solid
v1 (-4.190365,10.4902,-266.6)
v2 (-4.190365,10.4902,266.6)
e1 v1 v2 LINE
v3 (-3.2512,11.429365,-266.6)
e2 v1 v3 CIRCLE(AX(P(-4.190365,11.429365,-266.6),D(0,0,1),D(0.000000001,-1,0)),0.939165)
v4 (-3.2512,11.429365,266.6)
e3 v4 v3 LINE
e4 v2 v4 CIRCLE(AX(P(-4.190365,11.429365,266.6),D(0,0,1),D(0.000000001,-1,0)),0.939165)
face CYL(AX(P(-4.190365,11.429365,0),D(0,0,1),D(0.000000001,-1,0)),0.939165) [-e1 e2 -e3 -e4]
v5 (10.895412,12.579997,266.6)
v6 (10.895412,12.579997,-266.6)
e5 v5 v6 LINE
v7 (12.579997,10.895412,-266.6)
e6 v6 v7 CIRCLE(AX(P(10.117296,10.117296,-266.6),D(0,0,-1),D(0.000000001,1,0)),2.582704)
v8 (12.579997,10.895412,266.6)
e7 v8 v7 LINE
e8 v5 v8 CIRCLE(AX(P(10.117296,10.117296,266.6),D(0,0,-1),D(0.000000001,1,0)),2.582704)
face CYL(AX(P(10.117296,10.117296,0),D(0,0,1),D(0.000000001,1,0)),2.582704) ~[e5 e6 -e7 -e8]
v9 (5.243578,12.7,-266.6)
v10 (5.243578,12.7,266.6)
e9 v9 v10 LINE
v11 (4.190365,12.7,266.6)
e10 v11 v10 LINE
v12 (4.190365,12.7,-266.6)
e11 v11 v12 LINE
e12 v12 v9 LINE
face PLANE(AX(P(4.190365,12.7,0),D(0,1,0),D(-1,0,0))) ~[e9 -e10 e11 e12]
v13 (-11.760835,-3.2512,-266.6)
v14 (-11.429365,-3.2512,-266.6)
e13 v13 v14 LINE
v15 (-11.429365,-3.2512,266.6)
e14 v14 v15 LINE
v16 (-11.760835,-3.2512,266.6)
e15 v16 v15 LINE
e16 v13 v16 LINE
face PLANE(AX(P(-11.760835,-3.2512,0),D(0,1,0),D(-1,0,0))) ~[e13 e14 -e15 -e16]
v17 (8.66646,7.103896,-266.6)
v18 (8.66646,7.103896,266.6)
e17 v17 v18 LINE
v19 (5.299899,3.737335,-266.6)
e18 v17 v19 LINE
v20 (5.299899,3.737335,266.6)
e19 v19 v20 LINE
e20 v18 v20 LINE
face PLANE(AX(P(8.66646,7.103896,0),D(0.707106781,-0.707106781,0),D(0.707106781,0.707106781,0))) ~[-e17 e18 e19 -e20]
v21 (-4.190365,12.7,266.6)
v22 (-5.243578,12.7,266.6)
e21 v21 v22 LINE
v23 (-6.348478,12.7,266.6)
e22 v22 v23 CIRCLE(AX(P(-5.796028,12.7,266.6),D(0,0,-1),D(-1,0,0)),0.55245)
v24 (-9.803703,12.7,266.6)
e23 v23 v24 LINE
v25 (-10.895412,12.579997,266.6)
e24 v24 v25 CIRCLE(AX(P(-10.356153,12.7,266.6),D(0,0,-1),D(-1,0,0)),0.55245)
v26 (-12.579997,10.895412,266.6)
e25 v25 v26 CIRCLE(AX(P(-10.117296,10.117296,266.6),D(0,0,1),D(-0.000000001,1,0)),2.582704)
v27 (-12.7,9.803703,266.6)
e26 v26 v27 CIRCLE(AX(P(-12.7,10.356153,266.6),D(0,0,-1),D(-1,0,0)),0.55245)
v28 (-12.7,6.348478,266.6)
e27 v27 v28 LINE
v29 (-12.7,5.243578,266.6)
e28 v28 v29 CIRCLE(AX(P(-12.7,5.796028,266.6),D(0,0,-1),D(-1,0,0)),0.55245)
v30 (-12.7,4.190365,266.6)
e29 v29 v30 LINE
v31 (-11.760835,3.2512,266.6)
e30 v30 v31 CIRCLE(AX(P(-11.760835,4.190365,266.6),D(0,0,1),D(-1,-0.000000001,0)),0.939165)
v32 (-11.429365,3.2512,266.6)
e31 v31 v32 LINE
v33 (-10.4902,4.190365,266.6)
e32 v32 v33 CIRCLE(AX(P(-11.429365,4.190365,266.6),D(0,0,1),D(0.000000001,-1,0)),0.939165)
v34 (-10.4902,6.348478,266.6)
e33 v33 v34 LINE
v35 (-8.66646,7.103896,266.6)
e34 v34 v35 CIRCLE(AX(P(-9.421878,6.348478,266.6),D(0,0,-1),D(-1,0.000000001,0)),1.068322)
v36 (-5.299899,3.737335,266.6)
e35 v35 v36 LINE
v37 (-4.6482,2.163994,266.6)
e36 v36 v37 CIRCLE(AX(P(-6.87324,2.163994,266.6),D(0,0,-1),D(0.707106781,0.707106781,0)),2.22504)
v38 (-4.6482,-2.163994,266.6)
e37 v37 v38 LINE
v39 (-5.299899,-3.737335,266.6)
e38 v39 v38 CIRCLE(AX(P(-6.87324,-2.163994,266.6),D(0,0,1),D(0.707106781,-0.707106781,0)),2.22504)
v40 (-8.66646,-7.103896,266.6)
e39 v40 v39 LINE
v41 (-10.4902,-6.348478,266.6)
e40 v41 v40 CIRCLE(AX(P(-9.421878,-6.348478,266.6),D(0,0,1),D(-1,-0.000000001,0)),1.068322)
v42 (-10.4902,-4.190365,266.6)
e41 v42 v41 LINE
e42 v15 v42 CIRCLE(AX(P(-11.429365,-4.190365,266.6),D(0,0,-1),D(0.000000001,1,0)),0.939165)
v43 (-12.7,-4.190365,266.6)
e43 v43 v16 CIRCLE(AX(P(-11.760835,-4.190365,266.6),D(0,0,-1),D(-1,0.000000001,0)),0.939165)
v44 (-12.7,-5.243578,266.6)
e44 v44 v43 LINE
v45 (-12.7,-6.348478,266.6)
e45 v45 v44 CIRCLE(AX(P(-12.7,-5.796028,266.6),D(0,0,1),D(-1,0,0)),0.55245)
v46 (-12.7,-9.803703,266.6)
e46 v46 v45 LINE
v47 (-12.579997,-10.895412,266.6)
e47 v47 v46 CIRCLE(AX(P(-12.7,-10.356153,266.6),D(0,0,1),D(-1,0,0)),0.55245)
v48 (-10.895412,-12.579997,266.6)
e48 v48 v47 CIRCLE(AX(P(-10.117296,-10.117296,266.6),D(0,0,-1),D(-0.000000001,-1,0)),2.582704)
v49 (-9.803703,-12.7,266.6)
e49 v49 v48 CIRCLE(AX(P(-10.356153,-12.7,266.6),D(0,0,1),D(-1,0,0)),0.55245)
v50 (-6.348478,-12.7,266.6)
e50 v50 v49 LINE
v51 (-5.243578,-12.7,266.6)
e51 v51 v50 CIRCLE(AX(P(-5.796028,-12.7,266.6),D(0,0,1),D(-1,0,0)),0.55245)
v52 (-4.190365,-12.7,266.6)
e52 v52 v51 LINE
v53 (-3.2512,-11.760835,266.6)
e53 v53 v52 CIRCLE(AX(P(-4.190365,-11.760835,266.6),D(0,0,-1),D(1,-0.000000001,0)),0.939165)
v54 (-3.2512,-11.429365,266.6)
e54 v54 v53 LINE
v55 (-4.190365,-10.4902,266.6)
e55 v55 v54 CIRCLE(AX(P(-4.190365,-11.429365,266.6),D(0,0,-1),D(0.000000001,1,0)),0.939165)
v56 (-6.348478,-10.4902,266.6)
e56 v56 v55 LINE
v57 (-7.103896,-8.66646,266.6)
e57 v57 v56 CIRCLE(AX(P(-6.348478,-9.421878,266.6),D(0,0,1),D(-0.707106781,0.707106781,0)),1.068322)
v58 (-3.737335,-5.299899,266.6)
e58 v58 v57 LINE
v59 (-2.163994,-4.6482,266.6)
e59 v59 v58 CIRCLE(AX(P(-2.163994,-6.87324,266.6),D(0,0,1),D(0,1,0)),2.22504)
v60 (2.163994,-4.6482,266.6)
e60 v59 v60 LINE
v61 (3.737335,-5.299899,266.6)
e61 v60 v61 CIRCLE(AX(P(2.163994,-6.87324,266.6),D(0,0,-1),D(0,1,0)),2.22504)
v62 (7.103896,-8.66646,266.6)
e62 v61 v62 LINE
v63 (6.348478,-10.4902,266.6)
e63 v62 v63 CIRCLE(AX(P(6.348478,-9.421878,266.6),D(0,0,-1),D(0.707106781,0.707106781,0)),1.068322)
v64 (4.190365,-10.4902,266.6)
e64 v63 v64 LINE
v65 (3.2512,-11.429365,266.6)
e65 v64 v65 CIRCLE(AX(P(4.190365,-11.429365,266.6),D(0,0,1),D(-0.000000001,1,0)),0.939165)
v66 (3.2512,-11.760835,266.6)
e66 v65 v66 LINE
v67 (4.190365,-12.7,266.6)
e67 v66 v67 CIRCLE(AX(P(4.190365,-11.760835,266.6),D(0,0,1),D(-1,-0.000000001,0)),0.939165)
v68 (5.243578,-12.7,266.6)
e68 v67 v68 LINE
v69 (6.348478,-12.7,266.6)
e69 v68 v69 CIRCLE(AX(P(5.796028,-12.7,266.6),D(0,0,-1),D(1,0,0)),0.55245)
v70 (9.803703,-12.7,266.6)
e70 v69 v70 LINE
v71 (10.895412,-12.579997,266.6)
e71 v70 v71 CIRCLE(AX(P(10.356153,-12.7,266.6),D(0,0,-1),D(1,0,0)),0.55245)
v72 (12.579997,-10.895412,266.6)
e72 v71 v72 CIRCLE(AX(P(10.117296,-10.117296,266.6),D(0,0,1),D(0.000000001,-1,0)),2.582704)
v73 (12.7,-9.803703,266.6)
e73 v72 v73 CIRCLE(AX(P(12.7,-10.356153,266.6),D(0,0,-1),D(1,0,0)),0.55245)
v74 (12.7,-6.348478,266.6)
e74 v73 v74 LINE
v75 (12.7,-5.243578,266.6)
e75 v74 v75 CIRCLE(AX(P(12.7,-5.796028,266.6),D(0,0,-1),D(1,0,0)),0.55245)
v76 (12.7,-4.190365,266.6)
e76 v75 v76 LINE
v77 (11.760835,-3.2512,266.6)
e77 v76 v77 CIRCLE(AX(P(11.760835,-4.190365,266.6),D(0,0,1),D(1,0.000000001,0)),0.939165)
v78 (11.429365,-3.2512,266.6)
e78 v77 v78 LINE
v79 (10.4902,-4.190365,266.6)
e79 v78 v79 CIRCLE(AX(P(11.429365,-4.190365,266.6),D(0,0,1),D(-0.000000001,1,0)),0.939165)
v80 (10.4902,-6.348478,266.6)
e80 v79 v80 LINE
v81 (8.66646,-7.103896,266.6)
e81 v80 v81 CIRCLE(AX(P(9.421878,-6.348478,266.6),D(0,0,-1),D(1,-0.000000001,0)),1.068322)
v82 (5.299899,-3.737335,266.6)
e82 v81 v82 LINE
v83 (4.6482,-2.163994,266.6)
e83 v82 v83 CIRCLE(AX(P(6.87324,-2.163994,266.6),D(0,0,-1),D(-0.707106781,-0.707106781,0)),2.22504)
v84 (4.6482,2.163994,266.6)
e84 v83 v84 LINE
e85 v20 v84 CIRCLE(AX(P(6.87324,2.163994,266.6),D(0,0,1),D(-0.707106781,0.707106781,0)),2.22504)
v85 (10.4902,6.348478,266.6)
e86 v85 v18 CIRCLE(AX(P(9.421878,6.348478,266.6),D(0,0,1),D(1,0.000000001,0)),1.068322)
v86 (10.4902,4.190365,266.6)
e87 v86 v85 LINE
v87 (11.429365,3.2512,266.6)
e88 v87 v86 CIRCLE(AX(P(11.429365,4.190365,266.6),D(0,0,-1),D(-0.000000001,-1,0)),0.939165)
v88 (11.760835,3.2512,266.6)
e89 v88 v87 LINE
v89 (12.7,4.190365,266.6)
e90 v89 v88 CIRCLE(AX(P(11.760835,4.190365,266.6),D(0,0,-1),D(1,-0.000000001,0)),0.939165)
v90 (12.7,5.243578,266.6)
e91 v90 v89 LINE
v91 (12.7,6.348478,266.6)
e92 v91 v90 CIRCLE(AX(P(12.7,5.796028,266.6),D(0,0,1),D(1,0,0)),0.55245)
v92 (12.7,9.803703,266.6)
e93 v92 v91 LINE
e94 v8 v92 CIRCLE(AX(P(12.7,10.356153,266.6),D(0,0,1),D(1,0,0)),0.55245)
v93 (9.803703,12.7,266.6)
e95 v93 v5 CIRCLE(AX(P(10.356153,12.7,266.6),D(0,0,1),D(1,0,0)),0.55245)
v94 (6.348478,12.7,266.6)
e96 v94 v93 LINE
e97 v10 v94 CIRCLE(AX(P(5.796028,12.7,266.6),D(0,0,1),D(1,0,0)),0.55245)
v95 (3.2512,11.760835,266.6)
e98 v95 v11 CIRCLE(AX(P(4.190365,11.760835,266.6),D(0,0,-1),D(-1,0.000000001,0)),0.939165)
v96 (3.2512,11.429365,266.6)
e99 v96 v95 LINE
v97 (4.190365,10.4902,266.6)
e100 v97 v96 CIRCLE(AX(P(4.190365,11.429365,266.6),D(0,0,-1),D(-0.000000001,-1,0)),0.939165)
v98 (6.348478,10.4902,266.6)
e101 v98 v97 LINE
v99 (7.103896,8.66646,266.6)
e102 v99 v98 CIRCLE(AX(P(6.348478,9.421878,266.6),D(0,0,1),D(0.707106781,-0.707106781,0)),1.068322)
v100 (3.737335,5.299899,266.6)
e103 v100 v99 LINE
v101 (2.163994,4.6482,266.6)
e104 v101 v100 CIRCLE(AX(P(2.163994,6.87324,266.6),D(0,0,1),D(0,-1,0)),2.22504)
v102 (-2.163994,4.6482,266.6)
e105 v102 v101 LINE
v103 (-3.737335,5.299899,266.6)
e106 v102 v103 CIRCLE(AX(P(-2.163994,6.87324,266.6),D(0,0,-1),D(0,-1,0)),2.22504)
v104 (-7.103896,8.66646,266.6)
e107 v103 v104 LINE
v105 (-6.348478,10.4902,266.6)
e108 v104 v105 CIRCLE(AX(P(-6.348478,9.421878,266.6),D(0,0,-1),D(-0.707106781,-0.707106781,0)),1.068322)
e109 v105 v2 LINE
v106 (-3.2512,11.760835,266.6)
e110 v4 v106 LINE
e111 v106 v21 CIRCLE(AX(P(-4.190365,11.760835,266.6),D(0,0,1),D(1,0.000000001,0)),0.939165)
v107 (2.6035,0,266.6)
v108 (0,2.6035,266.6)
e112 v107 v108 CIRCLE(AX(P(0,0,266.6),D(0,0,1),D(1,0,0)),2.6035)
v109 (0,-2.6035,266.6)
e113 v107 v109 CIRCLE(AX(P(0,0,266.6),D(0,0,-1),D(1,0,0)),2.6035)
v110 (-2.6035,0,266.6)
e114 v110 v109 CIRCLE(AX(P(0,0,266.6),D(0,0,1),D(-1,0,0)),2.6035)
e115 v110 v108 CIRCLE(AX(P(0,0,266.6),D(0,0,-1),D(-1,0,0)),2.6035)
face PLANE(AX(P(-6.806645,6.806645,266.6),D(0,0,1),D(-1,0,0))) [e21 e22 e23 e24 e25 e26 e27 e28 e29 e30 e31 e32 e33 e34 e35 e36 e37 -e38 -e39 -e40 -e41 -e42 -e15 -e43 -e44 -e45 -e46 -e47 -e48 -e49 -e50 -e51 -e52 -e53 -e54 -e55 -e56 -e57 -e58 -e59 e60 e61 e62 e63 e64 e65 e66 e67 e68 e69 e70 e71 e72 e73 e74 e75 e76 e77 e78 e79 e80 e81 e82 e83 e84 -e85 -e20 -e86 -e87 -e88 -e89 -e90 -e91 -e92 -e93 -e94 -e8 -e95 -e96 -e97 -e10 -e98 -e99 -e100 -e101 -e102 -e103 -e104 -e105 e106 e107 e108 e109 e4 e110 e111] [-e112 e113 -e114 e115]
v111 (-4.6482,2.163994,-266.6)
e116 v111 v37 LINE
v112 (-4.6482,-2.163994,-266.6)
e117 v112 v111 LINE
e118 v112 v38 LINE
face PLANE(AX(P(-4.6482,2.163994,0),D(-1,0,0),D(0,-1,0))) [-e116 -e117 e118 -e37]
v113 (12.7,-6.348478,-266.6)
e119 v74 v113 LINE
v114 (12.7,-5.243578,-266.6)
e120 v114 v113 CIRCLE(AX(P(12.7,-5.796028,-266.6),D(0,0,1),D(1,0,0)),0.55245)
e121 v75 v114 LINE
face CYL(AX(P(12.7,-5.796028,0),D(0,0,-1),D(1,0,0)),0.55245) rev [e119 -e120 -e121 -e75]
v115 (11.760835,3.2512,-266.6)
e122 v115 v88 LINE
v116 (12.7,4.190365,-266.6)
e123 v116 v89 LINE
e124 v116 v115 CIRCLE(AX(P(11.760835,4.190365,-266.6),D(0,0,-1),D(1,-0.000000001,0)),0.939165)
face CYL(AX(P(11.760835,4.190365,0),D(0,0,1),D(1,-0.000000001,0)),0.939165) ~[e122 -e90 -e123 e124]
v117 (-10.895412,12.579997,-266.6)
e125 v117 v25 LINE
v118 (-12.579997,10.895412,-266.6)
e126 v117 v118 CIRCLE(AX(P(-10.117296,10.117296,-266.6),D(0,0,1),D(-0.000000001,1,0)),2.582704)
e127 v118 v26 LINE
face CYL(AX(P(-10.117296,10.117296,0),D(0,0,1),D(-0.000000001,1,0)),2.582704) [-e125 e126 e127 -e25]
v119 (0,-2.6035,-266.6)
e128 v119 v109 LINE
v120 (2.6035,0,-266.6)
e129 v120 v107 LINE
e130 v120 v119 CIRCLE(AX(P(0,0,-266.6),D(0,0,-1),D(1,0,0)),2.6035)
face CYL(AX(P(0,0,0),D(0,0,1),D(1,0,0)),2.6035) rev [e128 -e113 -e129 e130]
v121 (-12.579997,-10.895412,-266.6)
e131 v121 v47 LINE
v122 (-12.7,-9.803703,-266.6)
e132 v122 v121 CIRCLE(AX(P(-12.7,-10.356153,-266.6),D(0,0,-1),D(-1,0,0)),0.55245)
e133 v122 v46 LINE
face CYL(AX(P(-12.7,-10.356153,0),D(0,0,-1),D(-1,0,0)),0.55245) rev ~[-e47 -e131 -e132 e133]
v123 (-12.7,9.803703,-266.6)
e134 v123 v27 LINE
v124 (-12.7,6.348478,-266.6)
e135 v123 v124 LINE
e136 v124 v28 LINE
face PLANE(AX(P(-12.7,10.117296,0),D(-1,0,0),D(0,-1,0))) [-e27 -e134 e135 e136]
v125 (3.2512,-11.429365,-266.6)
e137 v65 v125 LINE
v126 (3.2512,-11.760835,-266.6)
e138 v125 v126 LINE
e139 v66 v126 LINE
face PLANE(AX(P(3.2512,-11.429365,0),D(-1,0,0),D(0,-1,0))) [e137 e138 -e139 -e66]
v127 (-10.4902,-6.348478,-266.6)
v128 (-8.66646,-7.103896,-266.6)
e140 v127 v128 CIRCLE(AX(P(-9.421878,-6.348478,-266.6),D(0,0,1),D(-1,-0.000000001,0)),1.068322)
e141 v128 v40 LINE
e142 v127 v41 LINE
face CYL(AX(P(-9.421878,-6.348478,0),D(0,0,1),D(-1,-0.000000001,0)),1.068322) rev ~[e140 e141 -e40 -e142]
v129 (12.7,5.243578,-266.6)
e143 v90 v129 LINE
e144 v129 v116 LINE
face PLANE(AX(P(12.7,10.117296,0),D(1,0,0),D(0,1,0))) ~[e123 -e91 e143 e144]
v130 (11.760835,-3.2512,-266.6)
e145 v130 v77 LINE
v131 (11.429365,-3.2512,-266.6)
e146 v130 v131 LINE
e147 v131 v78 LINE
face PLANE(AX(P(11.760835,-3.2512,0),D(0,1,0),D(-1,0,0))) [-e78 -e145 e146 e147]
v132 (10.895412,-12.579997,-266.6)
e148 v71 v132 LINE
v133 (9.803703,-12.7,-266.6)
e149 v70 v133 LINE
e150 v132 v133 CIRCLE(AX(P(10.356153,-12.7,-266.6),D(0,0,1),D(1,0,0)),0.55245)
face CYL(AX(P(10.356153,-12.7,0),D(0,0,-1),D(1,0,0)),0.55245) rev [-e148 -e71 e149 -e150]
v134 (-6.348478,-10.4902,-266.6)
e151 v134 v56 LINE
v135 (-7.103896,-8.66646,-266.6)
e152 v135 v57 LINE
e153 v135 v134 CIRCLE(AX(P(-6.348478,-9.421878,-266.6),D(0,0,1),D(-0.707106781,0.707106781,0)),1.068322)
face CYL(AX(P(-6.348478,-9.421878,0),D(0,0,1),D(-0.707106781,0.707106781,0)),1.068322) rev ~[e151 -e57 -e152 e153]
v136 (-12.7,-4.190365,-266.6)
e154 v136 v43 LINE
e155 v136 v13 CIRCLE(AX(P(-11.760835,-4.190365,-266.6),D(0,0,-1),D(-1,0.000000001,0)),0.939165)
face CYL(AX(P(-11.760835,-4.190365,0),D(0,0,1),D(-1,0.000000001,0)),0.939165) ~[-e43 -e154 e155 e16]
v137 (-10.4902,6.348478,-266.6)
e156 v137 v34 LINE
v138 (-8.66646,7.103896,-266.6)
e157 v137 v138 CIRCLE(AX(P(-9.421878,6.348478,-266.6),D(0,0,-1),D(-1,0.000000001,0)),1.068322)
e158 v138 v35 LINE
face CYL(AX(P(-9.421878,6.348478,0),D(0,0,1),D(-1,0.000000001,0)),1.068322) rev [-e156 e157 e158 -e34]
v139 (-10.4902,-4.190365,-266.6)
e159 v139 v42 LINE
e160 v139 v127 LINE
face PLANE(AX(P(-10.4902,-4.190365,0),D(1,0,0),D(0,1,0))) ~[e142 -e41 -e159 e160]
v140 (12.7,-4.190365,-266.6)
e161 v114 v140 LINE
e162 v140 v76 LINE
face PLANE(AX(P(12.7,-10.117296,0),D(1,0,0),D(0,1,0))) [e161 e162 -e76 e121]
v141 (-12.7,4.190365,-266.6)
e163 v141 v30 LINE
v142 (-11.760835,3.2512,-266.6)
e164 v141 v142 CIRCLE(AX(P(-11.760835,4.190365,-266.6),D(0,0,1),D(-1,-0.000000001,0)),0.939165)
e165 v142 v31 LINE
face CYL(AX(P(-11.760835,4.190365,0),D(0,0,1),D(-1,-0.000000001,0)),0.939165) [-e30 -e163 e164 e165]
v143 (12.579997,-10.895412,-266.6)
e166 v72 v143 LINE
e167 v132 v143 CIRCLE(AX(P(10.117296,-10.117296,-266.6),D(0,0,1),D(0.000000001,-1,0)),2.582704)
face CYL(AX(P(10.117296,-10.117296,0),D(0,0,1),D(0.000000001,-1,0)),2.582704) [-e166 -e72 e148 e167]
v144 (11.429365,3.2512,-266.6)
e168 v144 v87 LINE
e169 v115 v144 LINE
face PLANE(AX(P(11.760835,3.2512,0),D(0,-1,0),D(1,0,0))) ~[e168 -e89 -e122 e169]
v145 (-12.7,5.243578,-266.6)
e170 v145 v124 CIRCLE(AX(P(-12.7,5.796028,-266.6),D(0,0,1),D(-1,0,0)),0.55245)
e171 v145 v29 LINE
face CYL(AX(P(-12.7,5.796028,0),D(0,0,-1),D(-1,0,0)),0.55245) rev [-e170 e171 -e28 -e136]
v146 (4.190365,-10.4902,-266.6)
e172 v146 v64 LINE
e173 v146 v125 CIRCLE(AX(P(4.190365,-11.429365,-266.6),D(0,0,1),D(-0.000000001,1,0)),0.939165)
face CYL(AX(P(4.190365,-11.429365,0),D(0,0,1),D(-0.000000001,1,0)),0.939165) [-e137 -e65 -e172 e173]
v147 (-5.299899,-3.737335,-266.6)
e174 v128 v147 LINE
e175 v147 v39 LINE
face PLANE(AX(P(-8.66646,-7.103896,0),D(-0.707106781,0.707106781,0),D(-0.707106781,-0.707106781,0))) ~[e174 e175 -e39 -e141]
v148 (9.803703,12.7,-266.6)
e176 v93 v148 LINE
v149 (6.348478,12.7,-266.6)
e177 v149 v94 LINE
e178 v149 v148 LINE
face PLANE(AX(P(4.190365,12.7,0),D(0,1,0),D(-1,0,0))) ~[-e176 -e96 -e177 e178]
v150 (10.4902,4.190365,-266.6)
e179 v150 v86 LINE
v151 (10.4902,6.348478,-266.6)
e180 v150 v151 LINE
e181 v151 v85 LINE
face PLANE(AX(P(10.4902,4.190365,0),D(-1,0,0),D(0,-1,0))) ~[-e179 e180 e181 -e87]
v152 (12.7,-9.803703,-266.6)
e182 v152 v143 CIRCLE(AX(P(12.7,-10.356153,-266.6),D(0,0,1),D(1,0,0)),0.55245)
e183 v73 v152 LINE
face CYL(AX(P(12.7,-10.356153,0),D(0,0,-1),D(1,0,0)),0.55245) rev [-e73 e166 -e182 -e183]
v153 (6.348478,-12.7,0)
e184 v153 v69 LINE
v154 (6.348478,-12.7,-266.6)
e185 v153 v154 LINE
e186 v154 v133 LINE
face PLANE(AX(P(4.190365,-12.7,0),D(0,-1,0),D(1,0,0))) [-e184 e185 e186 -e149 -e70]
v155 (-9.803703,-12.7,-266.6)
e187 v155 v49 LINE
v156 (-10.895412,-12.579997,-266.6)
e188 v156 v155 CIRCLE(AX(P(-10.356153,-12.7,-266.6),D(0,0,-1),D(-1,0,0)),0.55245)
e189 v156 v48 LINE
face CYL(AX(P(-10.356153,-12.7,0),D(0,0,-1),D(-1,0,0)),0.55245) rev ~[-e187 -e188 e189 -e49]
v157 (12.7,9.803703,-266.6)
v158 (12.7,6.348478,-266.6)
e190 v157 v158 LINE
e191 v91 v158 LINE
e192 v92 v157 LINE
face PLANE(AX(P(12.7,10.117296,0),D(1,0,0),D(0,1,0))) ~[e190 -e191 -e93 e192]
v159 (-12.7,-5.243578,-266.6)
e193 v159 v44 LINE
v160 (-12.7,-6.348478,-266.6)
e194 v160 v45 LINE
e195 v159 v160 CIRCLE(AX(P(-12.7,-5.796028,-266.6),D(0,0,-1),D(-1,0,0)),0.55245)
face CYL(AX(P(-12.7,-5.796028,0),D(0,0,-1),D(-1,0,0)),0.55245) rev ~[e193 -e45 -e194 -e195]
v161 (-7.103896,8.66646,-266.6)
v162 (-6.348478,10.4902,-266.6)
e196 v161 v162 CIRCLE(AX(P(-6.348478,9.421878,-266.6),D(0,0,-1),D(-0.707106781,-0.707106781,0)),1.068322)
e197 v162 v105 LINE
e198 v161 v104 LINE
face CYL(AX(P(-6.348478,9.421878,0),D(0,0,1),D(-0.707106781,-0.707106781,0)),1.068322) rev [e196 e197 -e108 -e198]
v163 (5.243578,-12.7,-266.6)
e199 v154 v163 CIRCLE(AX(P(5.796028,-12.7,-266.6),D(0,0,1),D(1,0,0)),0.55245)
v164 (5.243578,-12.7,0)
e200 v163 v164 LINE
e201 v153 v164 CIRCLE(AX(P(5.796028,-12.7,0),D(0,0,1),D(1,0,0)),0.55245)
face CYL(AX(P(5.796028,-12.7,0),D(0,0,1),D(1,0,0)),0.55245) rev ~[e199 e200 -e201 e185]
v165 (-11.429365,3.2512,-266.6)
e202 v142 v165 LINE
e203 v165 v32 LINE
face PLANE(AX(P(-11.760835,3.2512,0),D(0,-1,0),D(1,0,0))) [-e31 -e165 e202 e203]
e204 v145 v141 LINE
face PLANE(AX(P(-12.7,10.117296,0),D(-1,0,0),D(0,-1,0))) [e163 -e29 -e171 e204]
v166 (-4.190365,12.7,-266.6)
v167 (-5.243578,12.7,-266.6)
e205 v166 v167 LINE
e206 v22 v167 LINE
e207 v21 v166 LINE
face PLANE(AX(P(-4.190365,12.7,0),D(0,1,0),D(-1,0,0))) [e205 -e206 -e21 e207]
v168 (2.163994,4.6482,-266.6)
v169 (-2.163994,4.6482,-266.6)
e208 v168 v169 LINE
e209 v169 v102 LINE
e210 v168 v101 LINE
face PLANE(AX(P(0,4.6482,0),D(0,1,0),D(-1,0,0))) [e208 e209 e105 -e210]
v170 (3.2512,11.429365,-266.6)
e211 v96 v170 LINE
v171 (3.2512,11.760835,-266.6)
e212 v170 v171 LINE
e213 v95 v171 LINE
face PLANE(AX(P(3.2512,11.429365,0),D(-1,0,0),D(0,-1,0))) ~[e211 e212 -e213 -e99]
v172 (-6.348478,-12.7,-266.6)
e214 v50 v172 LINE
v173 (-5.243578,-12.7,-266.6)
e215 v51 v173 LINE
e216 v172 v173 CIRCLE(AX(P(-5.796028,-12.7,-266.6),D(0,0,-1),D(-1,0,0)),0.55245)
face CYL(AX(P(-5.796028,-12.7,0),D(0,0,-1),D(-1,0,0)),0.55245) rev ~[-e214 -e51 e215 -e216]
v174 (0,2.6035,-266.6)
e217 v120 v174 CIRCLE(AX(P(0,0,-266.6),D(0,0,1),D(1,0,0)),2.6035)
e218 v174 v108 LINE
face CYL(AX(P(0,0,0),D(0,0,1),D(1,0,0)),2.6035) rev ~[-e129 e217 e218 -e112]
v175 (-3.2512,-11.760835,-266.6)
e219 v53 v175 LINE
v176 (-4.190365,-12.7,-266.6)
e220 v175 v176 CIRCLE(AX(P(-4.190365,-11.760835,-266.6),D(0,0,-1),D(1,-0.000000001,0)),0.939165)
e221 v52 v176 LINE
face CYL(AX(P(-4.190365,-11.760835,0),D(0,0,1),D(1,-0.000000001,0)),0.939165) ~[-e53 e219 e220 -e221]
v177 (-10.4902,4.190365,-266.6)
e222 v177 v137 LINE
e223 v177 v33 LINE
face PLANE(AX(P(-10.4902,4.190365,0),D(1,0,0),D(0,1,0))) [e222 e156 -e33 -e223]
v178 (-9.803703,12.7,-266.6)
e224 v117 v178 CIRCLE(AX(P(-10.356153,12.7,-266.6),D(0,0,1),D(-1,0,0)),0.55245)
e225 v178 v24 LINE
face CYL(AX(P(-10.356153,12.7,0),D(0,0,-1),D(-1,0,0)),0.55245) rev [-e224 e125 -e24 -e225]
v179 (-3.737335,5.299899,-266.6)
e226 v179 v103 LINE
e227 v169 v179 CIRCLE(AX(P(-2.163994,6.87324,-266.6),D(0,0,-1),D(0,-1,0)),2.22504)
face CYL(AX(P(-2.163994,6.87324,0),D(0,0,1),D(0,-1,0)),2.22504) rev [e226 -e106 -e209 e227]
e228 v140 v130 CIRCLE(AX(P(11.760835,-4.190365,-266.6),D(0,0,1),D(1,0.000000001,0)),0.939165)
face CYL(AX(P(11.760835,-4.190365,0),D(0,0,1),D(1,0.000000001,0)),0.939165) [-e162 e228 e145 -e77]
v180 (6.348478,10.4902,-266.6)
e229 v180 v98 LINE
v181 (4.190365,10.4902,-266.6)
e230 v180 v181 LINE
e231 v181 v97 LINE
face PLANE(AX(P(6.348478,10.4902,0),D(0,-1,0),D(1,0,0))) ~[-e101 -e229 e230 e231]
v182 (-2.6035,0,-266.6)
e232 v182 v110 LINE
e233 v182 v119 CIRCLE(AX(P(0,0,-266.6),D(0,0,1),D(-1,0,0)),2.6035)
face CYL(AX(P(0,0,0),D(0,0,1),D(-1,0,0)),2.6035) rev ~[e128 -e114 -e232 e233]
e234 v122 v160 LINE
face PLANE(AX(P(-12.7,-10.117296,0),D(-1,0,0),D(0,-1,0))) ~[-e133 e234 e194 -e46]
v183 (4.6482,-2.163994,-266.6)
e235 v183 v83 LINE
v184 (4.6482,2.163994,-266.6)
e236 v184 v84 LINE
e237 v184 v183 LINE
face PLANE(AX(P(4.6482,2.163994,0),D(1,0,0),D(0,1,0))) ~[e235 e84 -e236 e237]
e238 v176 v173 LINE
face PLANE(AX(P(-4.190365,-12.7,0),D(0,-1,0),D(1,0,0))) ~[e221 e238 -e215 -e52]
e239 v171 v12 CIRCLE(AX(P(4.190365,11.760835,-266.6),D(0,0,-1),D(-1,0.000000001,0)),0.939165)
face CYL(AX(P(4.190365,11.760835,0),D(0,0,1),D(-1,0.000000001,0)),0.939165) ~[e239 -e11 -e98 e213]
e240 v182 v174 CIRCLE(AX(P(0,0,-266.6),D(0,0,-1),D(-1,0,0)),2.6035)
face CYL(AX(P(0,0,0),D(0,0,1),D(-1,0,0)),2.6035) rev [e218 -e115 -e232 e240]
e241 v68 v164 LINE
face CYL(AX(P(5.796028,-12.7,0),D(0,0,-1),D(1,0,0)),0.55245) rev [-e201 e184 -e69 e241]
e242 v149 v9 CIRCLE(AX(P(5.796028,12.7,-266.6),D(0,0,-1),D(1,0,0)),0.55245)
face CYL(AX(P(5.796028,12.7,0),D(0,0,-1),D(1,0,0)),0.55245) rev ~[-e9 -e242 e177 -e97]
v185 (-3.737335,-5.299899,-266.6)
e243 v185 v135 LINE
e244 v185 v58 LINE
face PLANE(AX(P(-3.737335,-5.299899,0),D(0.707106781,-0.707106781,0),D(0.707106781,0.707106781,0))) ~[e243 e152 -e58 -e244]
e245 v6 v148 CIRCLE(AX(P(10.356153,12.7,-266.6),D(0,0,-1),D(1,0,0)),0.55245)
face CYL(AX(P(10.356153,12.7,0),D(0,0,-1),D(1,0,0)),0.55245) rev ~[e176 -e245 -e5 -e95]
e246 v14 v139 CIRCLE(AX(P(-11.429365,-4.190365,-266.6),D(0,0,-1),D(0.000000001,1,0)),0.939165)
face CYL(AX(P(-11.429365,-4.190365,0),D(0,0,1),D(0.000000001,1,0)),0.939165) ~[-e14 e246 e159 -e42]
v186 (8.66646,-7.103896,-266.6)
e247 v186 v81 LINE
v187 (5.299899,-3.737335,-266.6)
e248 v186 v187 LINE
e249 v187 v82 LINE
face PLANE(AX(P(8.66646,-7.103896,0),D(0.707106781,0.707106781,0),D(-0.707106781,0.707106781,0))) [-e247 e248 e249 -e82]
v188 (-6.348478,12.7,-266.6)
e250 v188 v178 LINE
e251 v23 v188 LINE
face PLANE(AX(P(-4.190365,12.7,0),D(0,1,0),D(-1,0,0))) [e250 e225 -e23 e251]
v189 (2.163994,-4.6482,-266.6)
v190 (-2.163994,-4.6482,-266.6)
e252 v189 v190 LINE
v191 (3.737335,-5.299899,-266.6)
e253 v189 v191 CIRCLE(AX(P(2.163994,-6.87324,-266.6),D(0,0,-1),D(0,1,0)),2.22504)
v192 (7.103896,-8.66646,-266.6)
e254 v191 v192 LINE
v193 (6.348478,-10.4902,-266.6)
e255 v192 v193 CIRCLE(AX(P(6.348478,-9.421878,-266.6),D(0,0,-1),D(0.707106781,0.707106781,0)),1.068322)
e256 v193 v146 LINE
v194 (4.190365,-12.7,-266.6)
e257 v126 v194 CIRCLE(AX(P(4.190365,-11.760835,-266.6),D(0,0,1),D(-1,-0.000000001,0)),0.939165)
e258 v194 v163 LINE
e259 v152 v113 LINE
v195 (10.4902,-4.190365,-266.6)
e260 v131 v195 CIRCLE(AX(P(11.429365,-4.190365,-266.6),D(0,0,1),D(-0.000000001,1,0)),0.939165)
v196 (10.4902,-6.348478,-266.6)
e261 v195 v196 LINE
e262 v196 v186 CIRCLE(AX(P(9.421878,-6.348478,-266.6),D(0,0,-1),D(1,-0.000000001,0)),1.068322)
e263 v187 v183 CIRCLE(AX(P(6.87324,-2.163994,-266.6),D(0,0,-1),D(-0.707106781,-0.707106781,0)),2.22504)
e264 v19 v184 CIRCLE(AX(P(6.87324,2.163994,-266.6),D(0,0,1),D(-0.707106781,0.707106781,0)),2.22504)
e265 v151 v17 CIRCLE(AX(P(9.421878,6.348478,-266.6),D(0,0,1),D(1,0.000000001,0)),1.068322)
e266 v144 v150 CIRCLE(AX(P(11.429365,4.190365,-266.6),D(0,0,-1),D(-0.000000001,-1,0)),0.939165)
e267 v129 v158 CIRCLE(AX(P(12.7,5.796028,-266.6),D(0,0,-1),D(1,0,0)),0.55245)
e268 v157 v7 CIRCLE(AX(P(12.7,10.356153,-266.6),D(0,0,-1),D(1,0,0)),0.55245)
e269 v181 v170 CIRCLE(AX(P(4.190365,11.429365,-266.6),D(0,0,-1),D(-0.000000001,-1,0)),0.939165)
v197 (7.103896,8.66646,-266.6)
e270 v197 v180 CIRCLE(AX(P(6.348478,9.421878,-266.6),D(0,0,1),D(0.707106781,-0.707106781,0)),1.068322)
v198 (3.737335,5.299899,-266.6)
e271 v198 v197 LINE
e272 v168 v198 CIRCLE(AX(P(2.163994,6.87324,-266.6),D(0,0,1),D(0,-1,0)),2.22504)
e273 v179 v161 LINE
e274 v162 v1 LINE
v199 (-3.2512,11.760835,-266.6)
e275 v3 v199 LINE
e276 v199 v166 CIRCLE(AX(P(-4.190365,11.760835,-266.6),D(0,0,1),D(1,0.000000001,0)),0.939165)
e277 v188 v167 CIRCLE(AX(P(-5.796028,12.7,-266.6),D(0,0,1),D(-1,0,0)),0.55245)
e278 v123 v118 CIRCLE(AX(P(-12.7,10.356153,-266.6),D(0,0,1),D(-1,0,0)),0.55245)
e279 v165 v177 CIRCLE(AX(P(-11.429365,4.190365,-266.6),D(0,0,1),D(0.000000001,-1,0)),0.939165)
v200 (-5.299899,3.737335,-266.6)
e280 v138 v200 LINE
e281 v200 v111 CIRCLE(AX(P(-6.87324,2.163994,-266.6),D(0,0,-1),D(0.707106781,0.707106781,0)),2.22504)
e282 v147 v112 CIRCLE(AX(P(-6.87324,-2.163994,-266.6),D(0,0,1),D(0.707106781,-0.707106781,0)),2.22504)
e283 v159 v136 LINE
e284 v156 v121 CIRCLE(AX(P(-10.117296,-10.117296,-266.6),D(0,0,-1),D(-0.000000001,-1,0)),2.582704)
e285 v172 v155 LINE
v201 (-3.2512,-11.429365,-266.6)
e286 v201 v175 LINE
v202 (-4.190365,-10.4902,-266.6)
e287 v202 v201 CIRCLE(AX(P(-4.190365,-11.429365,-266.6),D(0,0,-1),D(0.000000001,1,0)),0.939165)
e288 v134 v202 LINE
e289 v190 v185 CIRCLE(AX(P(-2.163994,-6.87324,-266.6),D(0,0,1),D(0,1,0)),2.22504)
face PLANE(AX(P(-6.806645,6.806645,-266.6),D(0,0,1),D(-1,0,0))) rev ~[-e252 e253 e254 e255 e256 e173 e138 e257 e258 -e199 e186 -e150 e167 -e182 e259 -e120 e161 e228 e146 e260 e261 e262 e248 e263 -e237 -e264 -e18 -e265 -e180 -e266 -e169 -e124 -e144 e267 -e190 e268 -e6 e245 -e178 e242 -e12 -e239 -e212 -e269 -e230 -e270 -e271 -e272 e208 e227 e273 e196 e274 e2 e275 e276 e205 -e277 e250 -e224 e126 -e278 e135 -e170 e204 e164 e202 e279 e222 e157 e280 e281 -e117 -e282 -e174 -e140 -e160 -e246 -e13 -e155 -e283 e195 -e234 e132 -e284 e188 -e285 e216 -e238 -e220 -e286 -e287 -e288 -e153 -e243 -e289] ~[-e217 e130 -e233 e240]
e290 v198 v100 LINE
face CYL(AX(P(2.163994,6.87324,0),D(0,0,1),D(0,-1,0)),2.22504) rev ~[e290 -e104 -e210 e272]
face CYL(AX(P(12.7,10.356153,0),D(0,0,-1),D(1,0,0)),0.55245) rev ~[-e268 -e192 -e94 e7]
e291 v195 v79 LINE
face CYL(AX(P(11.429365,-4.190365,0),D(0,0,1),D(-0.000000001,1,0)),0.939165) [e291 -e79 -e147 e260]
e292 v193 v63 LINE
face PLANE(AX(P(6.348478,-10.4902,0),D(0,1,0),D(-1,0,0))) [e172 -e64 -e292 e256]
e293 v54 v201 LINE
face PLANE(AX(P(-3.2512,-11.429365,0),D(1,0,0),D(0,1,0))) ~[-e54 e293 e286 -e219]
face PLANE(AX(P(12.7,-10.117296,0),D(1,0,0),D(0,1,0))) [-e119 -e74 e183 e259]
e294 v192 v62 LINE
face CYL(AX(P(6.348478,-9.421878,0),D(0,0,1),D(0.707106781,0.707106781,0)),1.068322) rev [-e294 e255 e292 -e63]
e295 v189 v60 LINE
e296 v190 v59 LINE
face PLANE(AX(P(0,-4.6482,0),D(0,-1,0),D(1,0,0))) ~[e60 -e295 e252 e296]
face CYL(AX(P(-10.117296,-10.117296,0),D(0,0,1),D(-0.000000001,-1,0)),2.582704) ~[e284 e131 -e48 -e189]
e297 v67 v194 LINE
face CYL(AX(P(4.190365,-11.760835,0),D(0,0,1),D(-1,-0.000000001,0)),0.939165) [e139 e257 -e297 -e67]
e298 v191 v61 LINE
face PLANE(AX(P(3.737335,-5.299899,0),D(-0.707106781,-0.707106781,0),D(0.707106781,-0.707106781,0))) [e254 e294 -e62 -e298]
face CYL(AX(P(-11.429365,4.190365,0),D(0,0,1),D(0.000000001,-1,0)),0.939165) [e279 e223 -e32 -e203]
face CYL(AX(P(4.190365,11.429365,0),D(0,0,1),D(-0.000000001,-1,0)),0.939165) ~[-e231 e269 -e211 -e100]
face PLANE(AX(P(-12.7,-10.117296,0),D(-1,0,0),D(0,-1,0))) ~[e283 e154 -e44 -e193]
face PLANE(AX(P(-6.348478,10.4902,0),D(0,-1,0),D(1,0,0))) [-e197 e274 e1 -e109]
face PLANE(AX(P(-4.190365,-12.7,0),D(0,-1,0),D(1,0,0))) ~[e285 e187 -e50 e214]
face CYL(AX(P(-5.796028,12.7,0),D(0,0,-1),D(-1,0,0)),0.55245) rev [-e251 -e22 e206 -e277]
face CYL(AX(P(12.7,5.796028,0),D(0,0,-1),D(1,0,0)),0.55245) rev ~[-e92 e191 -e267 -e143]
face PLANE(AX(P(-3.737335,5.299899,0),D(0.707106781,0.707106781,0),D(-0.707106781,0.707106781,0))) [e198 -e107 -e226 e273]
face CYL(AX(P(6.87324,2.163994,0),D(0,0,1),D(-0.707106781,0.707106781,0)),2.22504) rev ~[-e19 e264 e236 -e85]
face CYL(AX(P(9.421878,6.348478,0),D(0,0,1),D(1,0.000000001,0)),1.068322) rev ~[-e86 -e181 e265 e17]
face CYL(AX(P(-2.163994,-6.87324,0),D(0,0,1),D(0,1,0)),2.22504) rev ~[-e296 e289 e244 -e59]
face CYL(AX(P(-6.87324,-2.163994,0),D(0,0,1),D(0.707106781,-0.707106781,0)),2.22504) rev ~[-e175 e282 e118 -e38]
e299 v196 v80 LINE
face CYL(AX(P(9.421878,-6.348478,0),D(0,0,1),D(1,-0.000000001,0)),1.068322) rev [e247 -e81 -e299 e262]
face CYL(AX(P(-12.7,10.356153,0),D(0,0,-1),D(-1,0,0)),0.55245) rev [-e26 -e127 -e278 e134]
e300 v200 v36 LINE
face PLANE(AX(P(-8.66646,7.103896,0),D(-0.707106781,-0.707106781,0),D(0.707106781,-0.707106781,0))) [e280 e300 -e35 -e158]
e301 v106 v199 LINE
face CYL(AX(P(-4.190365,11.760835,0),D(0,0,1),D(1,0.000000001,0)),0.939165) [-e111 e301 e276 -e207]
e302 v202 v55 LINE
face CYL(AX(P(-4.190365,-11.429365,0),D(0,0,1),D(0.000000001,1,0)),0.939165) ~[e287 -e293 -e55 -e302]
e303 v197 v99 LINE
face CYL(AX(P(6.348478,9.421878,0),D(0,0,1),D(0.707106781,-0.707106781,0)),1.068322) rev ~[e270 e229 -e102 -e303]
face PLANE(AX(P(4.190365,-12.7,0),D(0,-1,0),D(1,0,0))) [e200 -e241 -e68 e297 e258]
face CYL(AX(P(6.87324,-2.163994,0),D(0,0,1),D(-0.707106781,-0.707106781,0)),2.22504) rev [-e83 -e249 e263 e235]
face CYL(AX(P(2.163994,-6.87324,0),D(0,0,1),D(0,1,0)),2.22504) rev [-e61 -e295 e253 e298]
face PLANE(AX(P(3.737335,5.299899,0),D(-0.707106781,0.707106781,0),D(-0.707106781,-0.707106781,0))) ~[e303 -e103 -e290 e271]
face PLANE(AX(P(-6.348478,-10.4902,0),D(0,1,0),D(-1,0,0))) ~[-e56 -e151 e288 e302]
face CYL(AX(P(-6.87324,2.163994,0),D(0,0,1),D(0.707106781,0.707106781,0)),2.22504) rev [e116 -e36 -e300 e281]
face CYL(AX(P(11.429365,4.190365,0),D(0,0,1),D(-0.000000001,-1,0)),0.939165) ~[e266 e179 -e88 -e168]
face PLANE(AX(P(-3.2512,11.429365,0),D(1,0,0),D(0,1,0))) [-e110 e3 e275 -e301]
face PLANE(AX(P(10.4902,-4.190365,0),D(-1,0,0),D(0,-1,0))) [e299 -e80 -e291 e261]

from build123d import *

# Parameters (mm, degrees)
BOSS_EXTRUDE1_DEPTH     = 266.6
SKETCH5_R               = 0.55245
CUT_EXTRUDE1_DEPTH      = 267.6
CUT_EXTRUDE1_DEPTH_BACK = 267.6


with BuildPart() as part:
    # Sketch4 → Boss-Extrude1 (new body, symmetric)
    with BuildSketch(Plane.XY):
        with BuildLine():
            Line((4.190365, -12.7), (10.11729625, -12.7))
            ThreePointArc((10.11729625, -12.7), (11.943543585, -11.943543585), (12.7, -10.11729625))
            Line((12.7, -10.11729625), (12.7, -4.190365))
            ThreePointArc((12.7, -4.190365), (12.42492494, -3.52627506), (11.760835, -3.2512))
            Line((11.760835, -3.2512), (11.429365, -3.2512))
            ThreePointArc((11.429365, -3.2512), (10.76527506, -3.52627506), (10.4902, -4.190365))
            Line((10.4902, -4.190365), (10.4902, -6.348478019))
            ThreePointArc((10.4902, -6.348478019), (9.830707141, -7.335478831), (8.666460301, -7.103895736))
            Line((8.666460301, -7.103895736), (5.299899128, -3.737334563))
            ThreePointArc((5.299899128, -3.737334563), (4.817571085, -3.015479634), (4.6482, -2.16399369))
            Line((4.6482, -2.16399369), (4.6482, 0))
            Line((4.6482, 0), (2.6035, 0))
            ThreePointArc((2.6035, 0), (1.840952505, -1.840952505), (0, -2.6035))
            Line((0, -2.6035), (0, -4.6482))
            Line((0, -4.6482), (2.16399369, -4.6482))
            ThreePointArc((2.16399369, -4.6482), (3.015479634, -4.817571085), (3.737334563, -5.299899128))
            Line((3.737334563, -5.299899128), (7.103895736, -8.666460301))
            ThreePointArc((7.103895736, -8.666460301), (7.335478831, -9.830707141), (6.348478019, -10.4902))
            Line((6.348478019, -10.4902), (4.190365, -10.4902))
            ThreePointArc((4.190365, -10.4902), (3.52627506, -10.76527506), (3.2512, -11.429365))
            Line((3.2512, -11.429365), (3.2512, -11.760835))
            ThreePointArc((3.2512, -11.760835), (3.52627506, -12.42492494), (4.190365, -12.7))
        make_face()
    extrude(amount=BOSS_EXTRUDE1_DEPTH, both=True)

    # Sketch5 → Cut-Extrude1 (cut, two sides)
    with BuildSketch(Plane.XY) as cut_extrude1_sk:
        with Locations((10.356153152, -12.7)):
            Circle(SKETCH5_R)
        with Locations((5.796028019, -12.7)):
            Circle(SKETCH5_R)
        with Locations((12.7, -10.356153152)):
            Circle(SKETCH5_R)
        with Locations((12.7, -5.796028019)):
            Circle(SKETCH5_R)
    extrude(amount=CUT_EXTRUDE1_DEPTH, mode=Mode.SUBTRACT)
    extrude(cut_extrude1_sk.sketch, amount=-CUT_EXTRUDE1_DEPTH_BACK, mode=Mode.SUBTRACT)

    # Mirror1: part across plane


with BuildPart() as part_1:
    add(part.part)
    add(part.part.mirror(Plane(origin=(0, 0, 0), x_dir=(0, 0, 1), z_dir=(1, 0, 0))))

    # Mirror2: part across plane


with BuildPart() as part_2:
    add(part_1.part)
    add(part_1.part.mirror(Plane.ZX))


solid = part_2.part
